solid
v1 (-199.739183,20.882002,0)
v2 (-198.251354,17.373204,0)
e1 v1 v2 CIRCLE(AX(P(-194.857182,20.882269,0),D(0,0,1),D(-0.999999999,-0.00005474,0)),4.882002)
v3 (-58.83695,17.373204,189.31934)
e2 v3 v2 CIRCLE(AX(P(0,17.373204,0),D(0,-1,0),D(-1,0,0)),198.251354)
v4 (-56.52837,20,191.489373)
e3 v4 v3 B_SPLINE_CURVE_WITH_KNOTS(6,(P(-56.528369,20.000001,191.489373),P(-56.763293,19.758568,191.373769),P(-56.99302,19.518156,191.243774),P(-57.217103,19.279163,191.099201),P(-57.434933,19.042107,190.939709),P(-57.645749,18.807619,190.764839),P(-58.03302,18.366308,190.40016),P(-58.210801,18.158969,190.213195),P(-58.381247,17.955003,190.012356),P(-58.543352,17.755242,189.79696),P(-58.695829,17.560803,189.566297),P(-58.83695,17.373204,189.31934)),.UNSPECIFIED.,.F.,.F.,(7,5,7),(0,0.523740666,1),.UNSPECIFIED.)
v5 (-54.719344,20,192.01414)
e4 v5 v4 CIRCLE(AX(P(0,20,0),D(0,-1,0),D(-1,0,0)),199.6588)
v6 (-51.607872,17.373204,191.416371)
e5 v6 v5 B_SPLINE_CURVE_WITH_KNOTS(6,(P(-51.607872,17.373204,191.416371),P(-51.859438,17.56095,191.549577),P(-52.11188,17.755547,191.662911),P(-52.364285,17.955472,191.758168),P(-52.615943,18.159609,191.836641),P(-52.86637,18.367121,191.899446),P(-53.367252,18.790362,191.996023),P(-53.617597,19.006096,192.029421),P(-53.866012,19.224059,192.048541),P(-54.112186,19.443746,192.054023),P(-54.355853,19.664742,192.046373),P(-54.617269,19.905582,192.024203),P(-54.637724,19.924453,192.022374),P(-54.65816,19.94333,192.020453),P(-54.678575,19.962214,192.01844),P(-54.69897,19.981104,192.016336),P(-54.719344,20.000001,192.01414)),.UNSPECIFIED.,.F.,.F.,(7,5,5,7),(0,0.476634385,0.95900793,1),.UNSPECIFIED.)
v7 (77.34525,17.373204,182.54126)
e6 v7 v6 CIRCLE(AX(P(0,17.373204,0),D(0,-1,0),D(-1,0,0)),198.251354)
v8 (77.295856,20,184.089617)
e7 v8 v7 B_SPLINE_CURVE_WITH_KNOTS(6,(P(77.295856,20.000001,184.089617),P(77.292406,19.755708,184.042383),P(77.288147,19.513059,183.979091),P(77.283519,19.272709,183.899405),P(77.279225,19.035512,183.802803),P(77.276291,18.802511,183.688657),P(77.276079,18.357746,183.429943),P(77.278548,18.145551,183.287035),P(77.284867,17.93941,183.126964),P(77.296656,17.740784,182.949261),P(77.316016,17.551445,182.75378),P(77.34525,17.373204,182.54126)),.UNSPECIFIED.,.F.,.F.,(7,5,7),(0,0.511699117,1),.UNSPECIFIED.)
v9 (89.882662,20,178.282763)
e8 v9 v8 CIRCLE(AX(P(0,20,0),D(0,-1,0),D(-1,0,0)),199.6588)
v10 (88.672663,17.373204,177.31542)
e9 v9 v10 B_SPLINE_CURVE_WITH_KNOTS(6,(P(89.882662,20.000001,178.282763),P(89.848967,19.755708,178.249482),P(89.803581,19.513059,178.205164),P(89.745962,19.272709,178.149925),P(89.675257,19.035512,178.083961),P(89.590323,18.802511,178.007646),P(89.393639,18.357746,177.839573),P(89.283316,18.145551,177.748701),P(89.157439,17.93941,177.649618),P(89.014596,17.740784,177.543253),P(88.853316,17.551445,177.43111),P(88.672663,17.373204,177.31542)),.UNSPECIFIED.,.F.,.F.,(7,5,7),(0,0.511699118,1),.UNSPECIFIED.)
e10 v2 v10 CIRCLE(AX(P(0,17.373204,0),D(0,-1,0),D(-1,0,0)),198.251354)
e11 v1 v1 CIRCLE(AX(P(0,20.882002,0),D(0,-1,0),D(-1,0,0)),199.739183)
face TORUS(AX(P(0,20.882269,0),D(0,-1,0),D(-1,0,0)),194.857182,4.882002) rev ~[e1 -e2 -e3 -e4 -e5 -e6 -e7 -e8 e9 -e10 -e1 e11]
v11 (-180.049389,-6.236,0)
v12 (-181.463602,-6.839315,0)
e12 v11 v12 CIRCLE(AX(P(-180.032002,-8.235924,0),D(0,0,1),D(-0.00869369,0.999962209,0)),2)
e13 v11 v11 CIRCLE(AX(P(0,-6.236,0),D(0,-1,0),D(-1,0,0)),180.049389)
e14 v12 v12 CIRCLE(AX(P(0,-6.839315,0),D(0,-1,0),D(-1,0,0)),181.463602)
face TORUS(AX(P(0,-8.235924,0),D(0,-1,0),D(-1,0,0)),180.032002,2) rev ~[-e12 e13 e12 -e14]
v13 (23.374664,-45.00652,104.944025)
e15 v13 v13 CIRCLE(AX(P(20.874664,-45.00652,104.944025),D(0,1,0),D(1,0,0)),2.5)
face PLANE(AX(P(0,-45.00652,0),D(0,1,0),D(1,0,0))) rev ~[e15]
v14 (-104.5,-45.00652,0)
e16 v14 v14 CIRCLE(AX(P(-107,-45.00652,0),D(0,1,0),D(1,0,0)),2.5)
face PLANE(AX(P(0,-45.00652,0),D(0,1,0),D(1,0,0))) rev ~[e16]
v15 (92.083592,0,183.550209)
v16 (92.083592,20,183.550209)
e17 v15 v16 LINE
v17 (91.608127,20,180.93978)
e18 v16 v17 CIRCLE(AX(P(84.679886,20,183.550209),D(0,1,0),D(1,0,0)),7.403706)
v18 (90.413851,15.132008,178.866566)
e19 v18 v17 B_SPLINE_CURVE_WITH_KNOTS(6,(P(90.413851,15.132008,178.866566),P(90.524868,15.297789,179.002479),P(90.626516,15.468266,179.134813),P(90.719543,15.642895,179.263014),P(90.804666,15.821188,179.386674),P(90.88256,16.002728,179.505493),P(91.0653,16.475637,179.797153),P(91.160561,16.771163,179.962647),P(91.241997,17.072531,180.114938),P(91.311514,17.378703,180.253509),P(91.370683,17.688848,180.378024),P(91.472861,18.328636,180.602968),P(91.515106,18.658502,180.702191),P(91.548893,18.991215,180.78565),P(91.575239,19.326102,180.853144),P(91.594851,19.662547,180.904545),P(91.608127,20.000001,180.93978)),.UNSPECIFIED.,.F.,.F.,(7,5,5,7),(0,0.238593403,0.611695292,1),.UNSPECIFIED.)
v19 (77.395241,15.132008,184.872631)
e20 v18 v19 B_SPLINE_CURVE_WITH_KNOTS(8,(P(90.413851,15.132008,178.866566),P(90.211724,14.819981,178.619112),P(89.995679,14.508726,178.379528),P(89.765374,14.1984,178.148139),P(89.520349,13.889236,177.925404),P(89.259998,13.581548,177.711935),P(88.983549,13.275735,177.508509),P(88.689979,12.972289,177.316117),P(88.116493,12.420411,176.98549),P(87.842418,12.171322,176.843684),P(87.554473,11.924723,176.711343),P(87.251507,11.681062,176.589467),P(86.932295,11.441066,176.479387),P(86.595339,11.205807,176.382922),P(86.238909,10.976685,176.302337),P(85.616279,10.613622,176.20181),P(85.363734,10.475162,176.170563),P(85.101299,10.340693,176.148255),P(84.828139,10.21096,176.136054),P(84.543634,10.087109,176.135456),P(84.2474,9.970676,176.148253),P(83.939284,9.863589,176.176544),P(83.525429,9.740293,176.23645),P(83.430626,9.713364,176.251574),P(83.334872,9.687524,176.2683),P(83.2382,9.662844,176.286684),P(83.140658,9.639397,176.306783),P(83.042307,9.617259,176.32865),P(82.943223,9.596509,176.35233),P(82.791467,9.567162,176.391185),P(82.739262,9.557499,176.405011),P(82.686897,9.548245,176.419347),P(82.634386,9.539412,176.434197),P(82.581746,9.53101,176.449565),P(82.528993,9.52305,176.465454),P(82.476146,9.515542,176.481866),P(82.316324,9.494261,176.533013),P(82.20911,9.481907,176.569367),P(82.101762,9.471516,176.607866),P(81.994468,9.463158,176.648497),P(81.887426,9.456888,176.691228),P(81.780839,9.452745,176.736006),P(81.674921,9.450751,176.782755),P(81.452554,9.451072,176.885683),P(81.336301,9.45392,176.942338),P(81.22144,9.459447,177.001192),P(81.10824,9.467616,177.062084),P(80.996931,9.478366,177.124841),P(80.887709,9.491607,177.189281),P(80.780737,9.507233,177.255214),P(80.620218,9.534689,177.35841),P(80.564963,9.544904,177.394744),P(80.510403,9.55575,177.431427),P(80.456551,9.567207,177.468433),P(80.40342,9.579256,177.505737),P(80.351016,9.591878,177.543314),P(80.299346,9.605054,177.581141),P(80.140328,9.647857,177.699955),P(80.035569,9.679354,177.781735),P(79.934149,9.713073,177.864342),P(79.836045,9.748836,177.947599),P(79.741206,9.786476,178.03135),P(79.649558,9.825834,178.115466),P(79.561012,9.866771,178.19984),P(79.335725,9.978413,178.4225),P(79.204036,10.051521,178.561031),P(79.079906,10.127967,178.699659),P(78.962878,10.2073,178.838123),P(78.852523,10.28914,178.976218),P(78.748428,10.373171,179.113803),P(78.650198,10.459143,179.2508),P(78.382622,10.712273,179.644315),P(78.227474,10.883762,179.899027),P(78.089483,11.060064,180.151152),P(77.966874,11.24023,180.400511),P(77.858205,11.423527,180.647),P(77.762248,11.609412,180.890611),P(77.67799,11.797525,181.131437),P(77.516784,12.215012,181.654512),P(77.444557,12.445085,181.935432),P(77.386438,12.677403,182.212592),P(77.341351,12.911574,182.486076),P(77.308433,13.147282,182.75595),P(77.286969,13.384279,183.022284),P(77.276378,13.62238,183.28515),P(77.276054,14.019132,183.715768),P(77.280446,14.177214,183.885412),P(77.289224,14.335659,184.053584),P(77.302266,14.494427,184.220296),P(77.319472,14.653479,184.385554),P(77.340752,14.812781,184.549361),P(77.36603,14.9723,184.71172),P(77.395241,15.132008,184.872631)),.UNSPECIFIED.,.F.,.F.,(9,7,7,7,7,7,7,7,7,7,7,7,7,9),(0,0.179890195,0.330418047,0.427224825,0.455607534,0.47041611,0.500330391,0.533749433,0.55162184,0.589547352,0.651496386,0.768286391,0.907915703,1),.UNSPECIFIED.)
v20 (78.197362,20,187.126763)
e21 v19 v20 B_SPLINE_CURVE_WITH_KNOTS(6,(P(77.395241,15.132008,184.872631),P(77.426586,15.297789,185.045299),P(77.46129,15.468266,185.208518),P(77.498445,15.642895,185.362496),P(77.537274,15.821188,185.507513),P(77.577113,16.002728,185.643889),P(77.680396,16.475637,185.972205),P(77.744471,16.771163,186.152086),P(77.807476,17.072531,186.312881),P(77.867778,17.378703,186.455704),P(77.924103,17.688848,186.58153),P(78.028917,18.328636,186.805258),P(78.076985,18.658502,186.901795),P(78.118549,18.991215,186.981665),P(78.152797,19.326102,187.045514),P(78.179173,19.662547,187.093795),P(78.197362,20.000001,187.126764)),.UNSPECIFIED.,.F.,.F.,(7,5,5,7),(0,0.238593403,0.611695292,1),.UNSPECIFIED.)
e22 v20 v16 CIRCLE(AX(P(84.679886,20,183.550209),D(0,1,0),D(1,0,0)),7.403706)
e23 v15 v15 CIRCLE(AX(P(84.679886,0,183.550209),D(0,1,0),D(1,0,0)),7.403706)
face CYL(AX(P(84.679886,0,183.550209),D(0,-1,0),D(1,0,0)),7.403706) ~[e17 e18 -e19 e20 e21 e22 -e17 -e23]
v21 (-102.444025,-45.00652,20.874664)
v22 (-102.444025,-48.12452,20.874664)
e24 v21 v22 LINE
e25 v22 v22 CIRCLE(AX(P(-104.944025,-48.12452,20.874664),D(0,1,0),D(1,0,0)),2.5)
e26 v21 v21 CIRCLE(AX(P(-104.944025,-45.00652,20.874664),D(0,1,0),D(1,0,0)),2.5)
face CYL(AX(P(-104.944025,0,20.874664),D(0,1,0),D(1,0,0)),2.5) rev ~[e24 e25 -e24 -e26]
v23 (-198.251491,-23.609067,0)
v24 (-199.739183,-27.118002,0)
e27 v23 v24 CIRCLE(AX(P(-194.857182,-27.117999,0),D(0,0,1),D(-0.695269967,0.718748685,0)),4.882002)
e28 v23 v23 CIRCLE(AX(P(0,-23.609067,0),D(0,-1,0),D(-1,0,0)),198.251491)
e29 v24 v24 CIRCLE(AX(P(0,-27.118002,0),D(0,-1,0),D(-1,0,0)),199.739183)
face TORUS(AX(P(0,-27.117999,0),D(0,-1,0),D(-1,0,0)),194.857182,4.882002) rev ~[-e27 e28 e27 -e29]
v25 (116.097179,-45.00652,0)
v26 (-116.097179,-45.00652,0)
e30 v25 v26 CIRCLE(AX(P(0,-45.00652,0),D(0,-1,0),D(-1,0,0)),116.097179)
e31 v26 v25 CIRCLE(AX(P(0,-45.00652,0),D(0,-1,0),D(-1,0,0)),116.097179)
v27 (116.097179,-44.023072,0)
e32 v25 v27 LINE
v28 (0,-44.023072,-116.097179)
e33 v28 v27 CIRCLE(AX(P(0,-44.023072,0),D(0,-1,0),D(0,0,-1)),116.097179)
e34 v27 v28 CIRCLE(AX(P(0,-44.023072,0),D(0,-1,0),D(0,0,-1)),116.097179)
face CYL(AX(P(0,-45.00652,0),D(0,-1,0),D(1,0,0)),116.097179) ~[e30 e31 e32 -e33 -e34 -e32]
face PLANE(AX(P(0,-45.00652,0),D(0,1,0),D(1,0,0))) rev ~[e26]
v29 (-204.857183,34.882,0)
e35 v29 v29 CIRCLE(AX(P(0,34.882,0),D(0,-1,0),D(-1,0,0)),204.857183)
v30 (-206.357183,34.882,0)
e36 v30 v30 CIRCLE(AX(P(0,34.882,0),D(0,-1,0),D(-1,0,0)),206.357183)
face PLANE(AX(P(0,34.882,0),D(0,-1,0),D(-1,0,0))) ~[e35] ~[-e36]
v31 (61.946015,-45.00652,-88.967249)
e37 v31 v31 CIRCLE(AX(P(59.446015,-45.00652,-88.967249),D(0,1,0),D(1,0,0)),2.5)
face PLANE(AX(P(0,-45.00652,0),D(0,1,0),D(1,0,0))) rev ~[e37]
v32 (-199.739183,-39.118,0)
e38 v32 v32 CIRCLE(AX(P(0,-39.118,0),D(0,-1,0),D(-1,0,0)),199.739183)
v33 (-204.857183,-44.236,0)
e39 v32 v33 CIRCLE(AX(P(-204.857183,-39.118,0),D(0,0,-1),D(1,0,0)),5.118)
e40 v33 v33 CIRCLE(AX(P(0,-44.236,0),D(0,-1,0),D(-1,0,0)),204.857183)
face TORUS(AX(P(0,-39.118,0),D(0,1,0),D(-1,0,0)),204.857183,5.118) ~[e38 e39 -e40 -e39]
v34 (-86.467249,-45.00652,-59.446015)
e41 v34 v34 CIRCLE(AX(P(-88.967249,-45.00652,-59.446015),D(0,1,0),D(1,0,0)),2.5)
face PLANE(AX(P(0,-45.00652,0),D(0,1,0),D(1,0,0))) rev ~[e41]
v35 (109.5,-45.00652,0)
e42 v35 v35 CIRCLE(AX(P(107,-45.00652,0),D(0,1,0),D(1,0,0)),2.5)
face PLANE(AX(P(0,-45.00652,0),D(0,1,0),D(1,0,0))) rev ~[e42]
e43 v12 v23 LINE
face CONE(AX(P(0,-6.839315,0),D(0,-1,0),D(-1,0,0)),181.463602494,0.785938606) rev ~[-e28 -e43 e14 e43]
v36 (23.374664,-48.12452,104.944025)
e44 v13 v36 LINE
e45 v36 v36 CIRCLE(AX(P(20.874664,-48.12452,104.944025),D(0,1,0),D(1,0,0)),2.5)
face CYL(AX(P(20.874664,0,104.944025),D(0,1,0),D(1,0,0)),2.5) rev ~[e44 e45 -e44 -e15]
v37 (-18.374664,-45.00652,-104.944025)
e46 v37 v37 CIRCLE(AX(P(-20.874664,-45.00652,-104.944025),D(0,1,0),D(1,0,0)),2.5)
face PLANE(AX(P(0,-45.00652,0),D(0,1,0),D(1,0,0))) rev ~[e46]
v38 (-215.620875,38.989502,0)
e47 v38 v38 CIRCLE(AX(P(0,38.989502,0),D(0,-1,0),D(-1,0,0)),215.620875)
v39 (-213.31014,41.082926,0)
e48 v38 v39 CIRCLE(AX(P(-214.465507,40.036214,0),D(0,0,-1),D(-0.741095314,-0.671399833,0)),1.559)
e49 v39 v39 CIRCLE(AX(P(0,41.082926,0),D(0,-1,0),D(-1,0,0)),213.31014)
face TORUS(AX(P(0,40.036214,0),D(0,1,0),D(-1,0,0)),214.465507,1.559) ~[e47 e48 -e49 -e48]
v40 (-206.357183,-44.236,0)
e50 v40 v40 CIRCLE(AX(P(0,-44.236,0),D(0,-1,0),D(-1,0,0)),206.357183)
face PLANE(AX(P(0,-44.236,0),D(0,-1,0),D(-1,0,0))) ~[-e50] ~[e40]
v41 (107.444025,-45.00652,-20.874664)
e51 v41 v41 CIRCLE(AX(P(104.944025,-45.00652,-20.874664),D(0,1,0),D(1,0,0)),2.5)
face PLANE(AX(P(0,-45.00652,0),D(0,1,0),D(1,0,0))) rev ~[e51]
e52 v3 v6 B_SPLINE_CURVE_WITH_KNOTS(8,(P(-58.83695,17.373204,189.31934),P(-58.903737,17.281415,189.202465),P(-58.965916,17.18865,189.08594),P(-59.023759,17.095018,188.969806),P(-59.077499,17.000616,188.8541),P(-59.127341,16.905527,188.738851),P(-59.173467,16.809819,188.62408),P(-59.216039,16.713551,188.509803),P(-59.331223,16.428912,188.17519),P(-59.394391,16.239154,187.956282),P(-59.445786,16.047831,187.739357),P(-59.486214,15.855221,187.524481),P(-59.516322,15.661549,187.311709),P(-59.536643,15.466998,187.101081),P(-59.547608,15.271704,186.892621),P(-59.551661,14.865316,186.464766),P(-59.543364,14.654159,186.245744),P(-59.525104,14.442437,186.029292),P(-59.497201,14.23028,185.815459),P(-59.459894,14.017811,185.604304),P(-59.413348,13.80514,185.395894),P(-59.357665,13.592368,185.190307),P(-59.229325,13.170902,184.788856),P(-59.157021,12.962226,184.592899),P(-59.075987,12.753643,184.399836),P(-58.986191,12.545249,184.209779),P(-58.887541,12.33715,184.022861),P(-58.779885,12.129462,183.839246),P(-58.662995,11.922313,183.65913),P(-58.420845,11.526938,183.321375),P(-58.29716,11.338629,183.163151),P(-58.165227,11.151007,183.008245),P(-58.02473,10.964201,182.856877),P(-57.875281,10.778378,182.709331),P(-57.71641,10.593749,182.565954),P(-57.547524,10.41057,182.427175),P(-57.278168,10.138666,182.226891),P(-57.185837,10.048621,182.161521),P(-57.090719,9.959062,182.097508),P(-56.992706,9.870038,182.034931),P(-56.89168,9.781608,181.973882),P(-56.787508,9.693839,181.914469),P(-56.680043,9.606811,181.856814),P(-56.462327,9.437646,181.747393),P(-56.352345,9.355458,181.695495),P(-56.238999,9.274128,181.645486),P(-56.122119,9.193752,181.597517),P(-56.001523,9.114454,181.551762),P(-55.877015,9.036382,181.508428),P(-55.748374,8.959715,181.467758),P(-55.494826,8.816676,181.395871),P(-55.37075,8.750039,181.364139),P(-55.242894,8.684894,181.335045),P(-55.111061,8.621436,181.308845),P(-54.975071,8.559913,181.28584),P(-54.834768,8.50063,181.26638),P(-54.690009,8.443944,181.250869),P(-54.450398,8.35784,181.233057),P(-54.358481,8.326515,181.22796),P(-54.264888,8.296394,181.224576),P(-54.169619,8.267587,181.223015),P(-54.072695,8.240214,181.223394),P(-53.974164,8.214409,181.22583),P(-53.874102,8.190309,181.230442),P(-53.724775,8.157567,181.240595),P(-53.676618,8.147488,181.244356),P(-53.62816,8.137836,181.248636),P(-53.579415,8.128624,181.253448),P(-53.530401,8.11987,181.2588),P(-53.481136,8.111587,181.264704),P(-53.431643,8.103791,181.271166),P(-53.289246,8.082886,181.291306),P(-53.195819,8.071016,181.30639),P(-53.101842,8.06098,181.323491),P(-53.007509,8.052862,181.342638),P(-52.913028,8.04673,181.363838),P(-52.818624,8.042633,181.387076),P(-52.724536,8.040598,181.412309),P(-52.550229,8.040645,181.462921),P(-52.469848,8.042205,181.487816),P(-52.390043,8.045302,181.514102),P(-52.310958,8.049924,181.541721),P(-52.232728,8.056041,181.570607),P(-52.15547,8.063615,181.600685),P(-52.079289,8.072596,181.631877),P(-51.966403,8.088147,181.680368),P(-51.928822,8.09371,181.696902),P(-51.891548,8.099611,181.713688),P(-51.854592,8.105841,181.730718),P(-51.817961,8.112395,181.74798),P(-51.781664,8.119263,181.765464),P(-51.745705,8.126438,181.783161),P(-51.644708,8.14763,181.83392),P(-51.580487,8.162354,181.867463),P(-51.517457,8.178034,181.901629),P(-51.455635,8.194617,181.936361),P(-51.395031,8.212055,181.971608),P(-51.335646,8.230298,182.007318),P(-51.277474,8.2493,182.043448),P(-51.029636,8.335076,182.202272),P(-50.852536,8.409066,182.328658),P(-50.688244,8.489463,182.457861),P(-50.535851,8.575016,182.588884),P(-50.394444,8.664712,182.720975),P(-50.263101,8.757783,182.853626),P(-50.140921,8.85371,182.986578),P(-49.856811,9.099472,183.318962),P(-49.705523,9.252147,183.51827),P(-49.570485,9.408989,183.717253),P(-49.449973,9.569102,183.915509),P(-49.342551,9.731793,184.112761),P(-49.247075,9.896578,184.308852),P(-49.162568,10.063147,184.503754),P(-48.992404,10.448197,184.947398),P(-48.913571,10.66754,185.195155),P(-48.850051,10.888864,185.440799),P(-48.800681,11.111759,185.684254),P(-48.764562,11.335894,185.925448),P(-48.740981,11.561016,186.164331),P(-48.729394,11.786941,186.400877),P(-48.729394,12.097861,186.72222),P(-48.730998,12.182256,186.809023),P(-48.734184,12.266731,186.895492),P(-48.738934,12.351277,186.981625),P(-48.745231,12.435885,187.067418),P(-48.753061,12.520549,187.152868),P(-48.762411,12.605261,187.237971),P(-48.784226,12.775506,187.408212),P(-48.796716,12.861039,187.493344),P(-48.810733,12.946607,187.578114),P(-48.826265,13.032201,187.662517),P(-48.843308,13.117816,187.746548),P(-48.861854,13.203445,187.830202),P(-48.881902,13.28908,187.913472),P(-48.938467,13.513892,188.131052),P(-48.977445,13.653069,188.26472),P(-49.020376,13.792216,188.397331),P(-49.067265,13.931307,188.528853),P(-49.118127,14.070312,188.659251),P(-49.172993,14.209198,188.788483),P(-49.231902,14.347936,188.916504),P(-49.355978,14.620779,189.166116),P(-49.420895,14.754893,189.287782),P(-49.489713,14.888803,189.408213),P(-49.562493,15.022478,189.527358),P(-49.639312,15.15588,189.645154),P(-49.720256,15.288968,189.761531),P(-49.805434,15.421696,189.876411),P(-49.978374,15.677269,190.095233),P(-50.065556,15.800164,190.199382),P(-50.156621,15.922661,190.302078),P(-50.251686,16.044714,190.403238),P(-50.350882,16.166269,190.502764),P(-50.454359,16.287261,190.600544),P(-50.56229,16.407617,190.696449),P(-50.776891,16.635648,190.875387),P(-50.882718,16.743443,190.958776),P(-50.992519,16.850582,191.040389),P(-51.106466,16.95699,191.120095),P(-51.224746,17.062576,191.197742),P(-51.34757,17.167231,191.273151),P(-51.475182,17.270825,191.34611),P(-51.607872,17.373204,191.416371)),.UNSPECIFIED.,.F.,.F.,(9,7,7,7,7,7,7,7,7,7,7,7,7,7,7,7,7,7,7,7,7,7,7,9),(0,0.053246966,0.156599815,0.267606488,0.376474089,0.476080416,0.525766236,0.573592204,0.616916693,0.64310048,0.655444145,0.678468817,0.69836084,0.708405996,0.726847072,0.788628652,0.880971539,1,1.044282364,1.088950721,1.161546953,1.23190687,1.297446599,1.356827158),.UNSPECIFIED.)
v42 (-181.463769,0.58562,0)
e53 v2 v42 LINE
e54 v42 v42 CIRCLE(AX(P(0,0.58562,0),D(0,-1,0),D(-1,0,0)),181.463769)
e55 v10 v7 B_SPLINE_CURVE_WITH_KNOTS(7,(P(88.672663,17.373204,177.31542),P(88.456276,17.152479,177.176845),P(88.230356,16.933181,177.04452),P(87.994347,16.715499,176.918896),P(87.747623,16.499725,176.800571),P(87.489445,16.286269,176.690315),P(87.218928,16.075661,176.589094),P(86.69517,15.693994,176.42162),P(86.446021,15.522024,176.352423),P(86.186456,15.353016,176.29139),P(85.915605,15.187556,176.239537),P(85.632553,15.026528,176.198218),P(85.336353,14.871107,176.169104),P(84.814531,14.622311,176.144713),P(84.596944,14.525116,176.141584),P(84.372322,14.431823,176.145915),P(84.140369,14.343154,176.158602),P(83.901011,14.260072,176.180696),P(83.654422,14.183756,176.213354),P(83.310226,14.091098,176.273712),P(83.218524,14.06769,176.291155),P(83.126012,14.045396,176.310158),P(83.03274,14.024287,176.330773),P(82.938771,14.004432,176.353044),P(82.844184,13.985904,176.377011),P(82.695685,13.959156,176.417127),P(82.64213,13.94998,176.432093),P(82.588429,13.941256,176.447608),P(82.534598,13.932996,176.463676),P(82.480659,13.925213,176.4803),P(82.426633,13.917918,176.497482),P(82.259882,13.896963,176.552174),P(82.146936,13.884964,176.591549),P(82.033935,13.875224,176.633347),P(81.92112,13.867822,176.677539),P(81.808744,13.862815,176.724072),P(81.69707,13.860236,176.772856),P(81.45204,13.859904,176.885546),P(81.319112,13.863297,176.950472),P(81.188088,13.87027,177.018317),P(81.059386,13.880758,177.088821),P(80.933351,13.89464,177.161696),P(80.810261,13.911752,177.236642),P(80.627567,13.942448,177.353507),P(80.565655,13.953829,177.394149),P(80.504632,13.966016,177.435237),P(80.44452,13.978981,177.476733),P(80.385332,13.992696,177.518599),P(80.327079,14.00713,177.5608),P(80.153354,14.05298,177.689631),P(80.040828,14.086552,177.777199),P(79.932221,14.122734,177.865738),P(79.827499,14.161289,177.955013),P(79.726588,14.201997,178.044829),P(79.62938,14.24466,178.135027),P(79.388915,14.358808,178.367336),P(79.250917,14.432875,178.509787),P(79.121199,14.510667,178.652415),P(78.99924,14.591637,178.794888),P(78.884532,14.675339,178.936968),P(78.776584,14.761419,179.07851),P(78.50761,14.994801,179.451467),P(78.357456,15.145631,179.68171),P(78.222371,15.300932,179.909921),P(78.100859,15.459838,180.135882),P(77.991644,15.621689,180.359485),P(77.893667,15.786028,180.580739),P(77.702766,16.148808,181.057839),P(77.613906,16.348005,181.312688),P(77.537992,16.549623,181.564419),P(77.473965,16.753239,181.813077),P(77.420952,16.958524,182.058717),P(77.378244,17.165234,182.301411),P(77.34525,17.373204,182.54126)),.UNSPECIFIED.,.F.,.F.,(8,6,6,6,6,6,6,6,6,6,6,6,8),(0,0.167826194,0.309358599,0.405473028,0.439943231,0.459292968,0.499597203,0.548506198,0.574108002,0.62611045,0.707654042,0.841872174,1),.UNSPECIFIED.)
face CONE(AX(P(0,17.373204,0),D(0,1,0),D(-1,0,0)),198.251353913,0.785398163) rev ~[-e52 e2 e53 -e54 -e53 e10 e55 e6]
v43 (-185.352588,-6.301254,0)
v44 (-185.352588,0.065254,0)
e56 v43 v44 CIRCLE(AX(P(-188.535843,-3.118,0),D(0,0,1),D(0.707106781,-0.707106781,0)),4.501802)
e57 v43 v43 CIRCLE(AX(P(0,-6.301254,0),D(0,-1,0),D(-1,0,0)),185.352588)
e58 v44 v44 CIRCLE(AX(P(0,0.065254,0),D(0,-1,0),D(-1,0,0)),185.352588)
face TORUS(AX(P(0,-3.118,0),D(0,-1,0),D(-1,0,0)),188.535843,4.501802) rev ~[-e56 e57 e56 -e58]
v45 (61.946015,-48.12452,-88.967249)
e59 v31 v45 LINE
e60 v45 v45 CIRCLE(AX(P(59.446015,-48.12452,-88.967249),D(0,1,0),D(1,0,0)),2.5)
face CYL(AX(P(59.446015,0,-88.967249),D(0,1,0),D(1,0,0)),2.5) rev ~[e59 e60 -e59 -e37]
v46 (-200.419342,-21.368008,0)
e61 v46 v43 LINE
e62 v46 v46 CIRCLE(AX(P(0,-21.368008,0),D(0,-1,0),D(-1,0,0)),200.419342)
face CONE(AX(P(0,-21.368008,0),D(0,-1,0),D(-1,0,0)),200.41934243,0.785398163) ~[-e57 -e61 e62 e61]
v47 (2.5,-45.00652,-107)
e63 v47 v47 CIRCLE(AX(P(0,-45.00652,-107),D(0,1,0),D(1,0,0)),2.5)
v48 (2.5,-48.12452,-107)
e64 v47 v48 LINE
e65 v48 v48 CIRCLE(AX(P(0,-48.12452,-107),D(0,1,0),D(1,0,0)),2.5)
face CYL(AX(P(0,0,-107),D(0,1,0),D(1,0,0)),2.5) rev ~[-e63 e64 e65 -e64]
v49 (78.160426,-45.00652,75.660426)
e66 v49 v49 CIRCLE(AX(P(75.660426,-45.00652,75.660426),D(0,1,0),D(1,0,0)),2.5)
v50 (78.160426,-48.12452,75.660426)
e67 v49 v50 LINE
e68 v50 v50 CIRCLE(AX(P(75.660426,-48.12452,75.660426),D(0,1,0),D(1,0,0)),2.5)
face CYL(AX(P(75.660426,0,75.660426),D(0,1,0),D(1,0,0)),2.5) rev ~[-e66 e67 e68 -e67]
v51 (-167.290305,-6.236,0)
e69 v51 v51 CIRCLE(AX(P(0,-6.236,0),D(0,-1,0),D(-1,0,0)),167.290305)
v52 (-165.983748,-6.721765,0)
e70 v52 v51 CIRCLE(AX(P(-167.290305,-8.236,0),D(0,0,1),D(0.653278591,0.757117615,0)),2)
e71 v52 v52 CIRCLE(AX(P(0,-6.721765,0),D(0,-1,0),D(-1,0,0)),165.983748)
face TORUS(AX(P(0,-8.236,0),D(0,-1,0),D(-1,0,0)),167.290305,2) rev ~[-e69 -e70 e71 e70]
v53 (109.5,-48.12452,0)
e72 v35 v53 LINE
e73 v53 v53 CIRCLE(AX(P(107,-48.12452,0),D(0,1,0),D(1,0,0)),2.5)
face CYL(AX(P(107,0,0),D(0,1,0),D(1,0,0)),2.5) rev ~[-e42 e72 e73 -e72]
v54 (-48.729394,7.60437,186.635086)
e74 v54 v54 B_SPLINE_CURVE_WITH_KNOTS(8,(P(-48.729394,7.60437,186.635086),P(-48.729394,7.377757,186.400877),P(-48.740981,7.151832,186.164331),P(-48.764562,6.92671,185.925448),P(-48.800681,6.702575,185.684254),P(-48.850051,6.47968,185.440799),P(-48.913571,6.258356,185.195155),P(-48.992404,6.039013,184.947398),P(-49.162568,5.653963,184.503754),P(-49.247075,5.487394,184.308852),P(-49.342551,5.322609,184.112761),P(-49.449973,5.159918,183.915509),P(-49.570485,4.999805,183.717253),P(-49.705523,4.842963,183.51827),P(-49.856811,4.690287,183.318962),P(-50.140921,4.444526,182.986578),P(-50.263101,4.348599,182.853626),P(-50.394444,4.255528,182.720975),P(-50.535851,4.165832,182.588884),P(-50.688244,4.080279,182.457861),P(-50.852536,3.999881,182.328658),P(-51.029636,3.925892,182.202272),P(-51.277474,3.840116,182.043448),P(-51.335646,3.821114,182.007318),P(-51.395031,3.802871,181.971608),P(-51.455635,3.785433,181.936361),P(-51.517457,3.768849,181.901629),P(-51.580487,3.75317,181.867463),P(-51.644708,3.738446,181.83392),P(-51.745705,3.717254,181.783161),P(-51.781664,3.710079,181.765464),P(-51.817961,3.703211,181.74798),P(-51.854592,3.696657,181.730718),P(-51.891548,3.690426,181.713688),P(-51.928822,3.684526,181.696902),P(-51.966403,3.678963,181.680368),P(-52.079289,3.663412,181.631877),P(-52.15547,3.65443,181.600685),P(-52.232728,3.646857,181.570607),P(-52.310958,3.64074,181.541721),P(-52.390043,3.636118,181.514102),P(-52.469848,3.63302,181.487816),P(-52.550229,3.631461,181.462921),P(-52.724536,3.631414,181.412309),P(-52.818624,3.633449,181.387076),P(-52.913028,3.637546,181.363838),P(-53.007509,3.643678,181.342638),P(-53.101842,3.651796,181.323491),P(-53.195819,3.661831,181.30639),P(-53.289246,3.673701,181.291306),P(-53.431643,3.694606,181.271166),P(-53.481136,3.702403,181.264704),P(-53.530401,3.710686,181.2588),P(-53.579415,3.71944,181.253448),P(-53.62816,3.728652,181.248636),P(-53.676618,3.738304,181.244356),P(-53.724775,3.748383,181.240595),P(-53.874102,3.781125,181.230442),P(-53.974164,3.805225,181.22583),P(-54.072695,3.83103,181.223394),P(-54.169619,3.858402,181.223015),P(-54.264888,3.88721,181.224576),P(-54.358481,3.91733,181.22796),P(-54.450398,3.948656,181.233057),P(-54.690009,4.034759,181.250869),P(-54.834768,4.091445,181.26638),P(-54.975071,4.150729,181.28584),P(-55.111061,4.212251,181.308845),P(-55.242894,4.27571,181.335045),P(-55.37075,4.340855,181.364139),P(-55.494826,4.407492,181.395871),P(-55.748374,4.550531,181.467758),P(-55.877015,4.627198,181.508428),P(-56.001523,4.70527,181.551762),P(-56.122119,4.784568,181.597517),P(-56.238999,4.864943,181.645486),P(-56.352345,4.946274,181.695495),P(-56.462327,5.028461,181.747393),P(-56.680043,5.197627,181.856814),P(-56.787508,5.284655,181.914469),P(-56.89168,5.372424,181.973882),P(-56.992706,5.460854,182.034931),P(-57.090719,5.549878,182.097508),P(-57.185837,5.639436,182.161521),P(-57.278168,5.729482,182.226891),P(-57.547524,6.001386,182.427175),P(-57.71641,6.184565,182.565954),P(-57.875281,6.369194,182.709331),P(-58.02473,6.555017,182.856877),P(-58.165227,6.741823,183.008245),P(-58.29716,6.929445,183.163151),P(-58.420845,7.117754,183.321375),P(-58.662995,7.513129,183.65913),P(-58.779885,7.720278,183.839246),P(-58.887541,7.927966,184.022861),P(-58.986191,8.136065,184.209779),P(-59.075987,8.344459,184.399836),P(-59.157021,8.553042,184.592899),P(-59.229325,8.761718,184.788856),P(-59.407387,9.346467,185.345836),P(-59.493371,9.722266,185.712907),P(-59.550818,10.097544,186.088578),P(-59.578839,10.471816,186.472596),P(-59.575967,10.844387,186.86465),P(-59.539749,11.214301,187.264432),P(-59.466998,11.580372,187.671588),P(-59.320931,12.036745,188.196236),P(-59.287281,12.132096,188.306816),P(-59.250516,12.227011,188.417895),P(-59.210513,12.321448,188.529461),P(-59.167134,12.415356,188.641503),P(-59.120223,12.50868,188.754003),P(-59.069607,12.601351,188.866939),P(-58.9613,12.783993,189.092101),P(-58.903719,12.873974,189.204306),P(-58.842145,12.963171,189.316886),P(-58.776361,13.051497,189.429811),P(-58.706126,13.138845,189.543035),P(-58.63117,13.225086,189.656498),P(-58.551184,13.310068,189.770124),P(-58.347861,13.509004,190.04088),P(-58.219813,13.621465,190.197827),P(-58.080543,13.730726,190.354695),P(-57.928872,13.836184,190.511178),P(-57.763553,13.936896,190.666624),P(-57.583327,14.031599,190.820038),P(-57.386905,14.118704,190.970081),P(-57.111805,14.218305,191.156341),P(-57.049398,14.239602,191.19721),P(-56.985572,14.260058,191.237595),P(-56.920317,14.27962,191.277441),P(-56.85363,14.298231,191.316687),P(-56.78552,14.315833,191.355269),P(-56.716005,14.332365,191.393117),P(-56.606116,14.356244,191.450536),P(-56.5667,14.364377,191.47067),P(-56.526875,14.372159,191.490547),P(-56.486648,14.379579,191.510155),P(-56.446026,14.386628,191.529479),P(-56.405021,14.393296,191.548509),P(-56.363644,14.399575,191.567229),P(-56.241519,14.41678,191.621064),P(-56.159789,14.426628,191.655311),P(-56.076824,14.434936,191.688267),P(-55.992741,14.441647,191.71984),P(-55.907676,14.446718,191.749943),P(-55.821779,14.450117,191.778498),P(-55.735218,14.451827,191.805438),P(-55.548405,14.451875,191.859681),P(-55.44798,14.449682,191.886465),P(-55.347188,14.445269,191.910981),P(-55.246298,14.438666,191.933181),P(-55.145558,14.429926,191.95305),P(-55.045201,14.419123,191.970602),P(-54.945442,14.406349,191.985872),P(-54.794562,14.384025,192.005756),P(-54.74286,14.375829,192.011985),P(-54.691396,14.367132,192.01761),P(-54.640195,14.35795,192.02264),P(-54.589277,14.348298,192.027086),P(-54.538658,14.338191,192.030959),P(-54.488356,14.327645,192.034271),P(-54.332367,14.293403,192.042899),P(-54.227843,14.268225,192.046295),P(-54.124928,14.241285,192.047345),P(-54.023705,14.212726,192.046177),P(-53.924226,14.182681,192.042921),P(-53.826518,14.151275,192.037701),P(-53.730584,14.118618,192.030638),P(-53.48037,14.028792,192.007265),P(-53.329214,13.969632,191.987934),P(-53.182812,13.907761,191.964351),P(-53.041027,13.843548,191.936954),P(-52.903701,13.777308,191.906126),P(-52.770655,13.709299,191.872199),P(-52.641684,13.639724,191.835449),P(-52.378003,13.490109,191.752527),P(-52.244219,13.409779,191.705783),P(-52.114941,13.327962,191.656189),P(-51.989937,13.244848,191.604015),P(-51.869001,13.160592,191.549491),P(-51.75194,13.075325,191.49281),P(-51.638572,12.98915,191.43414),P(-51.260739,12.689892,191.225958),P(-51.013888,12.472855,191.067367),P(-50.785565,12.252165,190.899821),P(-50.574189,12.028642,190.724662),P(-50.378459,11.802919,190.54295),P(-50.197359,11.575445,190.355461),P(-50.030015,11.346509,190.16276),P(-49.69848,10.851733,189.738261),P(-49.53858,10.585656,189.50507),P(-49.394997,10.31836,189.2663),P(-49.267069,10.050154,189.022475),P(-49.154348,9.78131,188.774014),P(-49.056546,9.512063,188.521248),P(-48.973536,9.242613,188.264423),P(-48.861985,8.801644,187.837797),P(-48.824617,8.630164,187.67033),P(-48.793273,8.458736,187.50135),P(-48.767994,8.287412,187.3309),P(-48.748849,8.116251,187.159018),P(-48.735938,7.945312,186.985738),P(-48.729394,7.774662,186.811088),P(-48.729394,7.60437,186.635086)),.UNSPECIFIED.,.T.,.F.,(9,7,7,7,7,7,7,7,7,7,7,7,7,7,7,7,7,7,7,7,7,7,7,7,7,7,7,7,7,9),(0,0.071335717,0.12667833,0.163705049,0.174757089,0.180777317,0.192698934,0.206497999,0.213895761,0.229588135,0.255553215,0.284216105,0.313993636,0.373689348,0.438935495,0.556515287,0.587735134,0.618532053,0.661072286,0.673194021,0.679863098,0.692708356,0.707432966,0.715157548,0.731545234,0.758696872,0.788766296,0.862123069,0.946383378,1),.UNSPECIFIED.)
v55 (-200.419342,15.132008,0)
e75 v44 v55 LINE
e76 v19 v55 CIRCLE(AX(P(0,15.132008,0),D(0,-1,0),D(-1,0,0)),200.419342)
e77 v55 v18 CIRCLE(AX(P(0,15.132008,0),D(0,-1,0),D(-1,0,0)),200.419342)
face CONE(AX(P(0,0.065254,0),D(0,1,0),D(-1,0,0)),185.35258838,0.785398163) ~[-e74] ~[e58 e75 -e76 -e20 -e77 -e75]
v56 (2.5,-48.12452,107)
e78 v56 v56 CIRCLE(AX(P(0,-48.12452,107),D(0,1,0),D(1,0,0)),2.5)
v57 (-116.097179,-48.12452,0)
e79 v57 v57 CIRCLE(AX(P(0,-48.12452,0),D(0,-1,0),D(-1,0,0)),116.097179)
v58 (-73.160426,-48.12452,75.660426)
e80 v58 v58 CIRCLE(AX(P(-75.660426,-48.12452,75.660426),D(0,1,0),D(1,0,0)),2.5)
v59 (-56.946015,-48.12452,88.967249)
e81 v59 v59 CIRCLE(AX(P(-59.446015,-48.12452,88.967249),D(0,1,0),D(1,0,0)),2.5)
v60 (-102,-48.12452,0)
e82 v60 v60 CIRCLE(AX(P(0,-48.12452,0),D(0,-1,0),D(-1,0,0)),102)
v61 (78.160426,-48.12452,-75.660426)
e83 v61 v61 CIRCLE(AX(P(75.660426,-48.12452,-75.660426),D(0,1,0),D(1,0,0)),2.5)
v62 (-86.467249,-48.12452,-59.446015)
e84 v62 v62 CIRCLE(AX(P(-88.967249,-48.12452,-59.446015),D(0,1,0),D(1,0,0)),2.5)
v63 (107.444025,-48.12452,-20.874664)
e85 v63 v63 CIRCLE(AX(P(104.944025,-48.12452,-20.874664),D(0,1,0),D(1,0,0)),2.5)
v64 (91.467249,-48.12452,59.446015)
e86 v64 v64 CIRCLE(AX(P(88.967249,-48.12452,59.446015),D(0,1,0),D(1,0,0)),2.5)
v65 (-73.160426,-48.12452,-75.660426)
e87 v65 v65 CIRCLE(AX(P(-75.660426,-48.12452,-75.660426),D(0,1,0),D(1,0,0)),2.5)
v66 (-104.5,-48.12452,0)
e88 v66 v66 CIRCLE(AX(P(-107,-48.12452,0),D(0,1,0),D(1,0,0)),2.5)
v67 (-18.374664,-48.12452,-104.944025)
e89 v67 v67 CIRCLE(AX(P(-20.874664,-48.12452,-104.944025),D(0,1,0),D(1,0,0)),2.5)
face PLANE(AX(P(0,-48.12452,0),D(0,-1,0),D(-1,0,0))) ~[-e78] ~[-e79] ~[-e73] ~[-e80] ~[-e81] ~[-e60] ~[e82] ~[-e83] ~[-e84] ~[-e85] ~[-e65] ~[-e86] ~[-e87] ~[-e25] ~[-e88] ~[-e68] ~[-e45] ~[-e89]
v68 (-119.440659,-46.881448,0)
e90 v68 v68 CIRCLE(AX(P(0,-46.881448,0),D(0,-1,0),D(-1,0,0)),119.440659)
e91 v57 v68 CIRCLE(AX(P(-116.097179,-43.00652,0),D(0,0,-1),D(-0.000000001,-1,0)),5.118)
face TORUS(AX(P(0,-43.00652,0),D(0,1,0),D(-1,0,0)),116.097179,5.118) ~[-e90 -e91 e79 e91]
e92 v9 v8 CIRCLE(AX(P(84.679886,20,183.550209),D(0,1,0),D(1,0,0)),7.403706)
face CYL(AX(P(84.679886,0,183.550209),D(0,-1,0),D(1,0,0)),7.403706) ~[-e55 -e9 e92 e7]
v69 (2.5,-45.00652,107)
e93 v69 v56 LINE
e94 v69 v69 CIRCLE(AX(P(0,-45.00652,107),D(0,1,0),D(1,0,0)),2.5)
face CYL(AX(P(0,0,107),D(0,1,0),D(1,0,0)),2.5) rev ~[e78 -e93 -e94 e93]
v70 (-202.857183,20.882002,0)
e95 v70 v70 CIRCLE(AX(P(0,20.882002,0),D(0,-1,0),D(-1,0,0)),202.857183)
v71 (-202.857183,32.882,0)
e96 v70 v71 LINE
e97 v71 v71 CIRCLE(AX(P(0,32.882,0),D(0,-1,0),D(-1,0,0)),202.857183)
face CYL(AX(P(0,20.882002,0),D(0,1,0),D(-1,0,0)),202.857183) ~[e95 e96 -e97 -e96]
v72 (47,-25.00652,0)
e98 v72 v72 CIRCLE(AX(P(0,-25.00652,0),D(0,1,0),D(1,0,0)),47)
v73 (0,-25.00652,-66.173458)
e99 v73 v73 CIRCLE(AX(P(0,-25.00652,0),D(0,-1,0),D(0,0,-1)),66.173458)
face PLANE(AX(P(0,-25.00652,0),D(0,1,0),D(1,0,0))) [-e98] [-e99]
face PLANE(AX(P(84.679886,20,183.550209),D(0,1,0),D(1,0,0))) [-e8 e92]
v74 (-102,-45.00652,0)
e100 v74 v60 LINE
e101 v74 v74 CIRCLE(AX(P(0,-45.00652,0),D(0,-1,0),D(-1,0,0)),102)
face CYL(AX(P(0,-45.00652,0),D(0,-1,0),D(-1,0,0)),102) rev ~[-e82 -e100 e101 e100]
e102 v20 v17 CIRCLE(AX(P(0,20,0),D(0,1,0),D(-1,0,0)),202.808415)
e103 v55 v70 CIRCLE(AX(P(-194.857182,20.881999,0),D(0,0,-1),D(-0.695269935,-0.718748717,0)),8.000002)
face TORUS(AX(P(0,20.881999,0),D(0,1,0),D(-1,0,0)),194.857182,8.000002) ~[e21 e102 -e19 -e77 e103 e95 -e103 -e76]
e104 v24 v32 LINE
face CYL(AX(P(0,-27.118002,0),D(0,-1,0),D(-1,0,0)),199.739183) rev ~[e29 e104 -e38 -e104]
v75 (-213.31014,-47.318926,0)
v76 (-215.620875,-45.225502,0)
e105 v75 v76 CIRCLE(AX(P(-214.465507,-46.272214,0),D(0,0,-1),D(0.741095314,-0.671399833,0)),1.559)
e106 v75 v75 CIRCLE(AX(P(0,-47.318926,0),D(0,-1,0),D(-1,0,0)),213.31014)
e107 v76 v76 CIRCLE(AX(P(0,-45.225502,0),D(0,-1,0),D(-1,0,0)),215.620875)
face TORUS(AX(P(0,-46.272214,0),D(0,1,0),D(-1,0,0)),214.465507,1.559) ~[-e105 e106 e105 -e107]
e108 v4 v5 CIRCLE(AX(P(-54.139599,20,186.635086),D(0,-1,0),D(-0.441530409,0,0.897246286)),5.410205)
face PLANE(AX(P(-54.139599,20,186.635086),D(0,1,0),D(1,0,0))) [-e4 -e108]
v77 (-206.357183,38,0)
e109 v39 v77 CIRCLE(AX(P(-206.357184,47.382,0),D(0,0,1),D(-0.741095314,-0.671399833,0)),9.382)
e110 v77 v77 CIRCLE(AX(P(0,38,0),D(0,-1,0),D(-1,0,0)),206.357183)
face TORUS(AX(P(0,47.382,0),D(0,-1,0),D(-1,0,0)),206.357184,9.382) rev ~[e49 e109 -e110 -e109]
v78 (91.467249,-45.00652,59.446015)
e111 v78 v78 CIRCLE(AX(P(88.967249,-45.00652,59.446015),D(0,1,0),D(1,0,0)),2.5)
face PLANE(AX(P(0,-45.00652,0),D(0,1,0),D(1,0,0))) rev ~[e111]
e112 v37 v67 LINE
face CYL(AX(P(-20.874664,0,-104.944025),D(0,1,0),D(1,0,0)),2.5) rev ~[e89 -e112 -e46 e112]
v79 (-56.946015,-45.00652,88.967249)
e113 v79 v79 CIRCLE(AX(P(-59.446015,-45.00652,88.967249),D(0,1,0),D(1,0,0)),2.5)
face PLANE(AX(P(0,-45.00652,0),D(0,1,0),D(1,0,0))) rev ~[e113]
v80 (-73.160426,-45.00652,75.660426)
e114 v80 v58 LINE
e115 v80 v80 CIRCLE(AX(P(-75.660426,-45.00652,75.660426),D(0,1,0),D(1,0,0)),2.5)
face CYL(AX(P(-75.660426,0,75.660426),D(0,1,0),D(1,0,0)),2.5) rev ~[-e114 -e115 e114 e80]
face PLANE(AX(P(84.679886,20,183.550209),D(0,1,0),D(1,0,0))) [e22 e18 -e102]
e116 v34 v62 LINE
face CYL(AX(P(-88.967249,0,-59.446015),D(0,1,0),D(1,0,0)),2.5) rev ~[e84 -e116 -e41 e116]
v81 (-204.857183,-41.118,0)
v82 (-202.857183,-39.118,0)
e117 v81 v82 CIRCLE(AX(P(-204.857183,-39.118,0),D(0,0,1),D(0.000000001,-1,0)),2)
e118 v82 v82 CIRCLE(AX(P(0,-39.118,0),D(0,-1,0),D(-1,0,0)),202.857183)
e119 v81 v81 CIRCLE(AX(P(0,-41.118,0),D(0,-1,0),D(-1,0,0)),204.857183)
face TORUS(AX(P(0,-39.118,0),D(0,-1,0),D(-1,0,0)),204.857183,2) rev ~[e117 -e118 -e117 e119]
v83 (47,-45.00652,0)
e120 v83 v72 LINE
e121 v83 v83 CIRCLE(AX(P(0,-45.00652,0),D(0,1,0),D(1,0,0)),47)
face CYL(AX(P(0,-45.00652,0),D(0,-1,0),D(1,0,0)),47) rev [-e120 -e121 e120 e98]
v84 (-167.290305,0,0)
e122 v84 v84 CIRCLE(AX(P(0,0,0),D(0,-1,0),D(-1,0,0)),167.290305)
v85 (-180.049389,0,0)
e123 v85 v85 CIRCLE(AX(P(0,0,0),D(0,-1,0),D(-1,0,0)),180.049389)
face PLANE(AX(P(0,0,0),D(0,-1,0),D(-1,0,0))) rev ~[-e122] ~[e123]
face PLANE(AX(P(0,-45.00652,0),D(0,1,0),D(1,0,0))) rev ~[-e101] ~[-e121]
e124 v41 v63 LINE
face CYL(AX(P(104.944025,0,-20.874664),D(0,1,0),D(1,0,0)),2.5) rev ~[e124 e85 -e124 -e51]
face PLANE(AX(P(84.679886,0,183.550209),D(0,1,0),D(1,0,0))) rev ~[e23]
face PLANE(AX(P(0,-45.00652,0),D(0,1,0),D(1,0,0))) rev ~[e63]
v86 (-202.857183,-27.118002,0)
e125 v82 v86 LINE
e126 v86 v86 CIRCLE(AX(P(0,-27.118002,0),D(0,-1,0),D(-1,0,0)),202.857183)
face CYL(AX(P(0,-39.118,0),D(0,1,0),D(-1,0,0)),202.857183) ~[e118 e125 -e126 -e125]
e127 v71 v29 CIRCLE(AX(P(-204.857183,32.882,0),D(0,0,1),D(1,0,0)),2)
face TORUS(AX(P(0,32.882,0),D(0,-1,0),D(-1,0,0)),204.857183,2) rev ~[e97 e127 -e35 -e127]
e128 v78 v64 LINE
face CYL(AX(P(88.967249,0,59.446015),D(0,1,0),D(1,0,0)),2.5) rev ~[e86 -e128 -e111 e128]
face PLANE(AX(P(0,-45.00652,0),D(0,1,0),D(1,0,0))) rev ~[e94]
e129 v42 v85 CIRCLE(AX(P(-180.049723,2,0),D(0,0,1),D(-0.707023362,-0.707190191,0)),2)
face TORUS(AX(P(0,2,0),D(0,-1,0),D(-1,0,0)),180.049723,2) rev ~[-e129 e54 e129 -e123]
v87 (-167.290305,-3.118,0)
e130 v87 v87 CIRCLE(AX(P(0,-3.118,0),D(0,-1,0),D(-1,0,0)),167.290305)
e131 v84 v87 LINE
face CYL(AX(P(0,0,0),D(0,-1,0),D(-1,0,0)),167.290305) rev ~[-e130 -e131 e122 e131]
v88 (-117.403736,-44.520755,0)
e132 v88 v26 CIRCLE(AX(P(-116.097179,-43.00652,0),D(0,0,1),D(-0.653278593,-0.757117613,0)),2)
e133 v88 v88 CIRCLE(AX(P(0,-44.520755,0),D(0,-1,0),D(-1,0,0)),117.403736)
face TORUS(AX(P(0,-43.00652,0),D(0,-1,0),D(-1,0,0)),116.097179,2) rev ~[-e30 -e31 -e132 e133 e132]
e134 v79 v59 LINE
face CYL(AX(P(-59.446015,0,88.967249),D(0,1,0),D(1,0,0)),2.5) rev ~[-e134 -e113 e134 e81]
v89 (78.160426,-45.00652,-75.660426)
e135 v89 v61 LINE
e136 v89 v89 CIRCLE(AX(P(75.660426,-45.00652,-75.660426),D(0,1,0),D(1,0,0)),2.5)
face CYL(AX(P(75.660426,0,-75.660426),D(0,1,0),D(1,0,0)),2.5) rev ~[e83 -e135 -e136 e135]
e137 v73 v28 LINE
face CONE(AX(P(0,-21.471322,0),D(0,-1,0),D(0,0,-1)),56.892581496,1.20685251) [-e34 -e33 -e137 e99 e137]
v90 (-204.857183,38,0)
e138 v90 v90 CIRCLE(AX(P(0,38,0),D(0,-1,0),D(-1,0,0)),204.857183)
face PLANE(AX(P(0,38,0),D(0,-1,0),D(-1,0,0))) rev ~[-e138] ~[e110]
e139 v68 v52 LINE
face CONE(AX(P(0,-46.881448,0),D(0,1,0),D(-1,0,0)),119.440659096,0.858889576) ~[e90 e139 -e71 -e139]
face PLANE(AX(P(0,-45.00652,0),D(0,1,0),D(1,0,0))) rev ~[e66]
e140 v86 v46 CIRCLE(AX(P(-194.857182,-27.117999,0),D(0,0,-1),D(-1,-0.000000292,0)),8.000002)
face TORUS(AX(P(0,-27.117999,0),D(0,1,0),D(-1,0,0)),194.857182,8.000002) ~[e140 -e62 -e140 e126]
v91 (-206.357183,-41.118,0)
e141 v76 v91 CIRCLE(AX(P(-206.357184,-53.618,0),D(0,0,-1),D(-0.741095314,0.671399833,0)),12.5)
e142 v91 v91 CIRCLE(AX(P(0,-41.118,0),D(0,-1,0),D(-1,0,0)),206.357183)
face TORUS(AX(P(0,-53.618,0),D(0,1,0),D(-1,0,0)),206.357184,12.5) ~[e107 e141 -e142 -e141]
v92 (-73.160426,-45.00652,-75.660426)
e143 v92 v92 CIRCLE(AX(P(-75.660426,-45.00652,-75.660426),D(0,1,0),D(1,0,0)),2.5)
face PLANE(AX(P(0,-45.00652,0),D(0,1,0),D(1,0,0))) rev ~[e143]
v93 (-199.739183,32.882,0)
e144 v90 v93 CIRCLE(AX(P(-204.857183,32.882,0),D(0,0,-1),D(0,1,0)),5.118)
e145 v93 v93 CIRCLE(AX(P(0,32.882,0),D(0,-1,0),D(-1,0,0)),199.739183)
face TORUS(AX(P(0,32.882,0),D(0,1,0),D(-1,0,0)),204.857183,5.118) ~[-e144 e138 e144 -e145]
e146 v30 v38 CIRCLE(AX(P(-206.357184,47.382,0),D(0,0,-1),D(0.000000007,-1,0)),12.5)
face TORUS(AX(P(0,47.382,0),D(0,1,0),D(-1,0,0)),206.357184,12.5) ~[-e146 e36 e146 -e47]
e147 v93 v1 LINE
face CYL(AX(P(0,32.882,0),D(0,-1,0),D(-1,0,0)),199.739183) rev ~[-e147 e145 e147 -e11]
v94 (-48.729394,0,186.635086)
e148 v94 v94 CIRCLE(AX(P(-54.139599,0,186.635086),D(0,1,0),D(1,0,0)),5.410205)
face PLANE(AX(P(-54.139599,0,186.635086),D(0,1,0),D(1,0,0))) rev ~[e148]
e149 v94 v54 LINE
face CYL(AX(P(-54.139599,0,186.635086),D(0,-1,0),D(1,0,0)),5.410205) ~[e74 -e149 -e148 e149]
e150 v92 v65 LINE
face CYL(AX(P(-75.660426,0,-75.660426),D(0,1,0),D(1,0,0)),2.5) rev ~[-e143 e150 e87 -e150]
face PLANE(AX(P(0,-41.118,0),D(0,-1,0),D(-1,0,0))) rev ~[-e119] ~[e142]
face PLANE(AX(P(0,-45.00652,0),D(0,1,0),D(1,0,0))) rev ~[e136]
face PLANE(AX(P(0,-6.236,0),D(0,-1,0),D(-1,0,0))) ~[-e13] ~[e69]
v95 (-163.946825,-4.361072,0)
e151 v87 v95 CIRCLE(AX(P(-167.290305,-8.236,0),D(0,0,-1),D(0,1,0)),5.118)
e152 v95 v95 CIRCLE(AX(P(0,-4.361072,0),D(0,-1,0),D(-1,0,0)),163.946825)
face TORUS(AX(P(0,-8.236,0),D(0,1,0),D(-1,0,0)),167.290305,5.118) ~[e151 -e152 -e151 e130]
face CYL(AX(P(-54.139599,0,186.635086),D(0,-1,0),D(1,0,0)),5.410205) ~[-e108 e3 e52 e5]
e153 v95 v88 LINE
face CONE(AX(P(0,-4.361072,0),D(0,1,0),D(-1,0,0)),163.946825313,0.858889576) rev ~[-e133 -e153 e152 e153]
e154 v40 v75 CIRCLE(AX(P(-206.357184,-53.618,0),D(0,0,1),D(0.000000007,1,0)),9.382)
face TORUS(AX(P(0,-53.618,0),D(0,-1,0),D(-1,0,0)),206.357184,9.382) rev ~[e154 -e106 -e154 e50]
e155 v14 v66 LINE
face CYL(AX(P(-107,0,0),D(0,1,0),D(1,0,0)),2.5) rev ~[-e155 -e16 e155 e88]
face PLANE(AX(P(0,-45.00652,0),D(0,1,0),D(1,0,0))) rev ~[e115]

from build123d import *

# Parameters (mm, degrees)
SKETCH4_R               = 2.5
CUT_EXTRUDE3_DEPTH      = 42.595214206
CUT_EXTRUDE3_DEPTH_BACK = 49.124520078
SKETCH5_R               = 116.097179263
SKETCH5_R_2             = 47
BOSS_EXTRUDE1_DEPTH     = 20
SKETCH7_R               = 5.410205394
SKETCH7_R_2             = 7.403705909
BOSS_EXTRUDE2_DEPTH     = 20


with BuildPart() as part:
    # Sketch3 → Revolve2 (revolve)
    with BuildSketch(Plane.XY):
        with BuildLine():
            Line((-102, -48.124520078), (-116.097179263, -48.124520078))
            ThreePointArc((-116.097179263, -48.124520078), (-117.880721071, -47.803696603), (-119.440659096, -46.881448026))
            Line((-119.440659096, -46.881448026), (-165.983747962, -6.721764772))
            ThreePointArc((-165.983747962, -6.721764772), (-166.593336874, -6.361370643), (-167.290305146, -6.236))
            Line((-167.290305146, -6.236), (-180.049388931, -6.236))
            ThreePointArc((-180.049388931, -6.236), (-180.816787473, -6.396329067), (-181.463602494, -6.839314687))
            Line((-181.463602494, -6.839314687), (-198.251490932, -23.609067138))
            ThreePointArc((-198.251490932, -23.609067138), (-199.351899333, -25.212361847), (-199.739183475, -27.118001784))
            Line((-199.739183475, -27.118001784), (-199.739183475, -39.117999668))
            ThreePointArc((-199.739183475, -39.117999668), (-201.238210969, -42.736972174), (-204.857183475, -44.235999668))
            Line((-204.857183475, -44.235999668), (-206.357183497, -44.235999668))
            ThreePointArc((-206.357183497, -44.235999668), (-210.160078428, -45.041291982), (-213.310139828, -47.318926446))
            ThreePointArc((-213.310139828, -47.318926446), (-215.512219762, -47.4275817), (-215.620875016, -45.225501766))
            ThreePointArc((-215.620875016, -45.225501766), (-211.423926876, -42.190921638), (-206.357183475, -41.117999668))
            Line((-206.357183475, -41.117999668), (-204.857183475, -41.117999668))
            ThreePointArc((-204.857183475, -41.117999668), (-203.442969913, -40.53221323), (-202.857183475, -39.117999668))
            Line((-202.857183475, -39.117999668), (-202.857183475, -27.118001784))
            ThreePointArc((-202.857183475, -27.118001784), (-202.22255126, -23.995282756), (-200.41934243, -21.368008487))
            Line((-200.41934243, -21.368008487), (-185.35258838, -6.301254436))
            ThreePointArc((-185.35258838, -6.301254436), (-184.03404122, -3.118), (-185.35258838, 0.065254437))
            Line((-185.35258838, 0.065254437), (-200.41934243, 15.132008487))
            ThreePointArc((-200.41934243, 15.132008487), (-202.22255126, 17.759282757), (-202.857183476, 20.882001784))
            Line((-202.857183476, 20.882001784), (-202.857183476, 32.881999668))
            ThreePointArc((-202.857183476, 32.881999668), (-203.442969914, 34.296213231), (-204.857183476, 34.881999668))
            Line((-204.857183476, 34.881999668), (-206.357183476, 34.881999668))
            ThreePointArc((-206.357183476, 34.881999668), (-211.423926877, 35.954921638), (-215.620875017, 38.989501766))
            ThreePointArc((-215.620875017, 38.989501766), (-215.512219763, 41.1915817), (-213.310139829, 41.082926446))
            ThreePointArc((-213.310139829, 41.082926446), (-210.16007843, 38.805291983), (-206.357183499, 37.999999668))
            Line((-206.357183499, 37.999999668), (-204.857183476, 37.999999668))
            ThreePointArc((-204.857183476, 37.999999668), (-201.23821097, 36.500972175), (-199.739183476, 32.881999668))
            Line((-199.739183476, 32.881999668), (-199.739183476, 20.882001784))
            ThreePointArc((-199.739183476, 20.882001784), (-199.351809516, 18.976419568), (-198.251353913, 17.373204164))
            Line((-198.251353913, 17.373204164), (-181.463769341, 0.585619592))
            ThreePointArc((-181.463769341, 0.585619592), (-180.814826345, 0.152131935), (-180.049388931, 0))
            Line((-180.049388931, 0), (-167.290305146, 0))
            Line((-167.290305146, 0), (-167.290305146, -3.118))
            ThreePointArc((-167.290305146, -3.118), (-165.506763338, -3.438823474), (-163.946825313, -4.361072052))
            Line((-163.946825313, -4.361072052), (-117.403736447, -44.520755305))
            ThreePointArc((-117.403736447, -44.520755305), (-116.794147535, -44.881149435), (-116.097179263, -45.006520077))
            Line((-116.097179263, -45.006520077), (-102, -45.006520077))
            Line((-102, -45.006520077), (-102, -48.124520078))
        make_face()
    revolve(axis=Axis((0, 240.888952165, 0), (0, -1, 0)))

    # Sketch4 → Cut-Extrude3 (cut, two sides)
    with BuildSketch(Plane(origin=(0, 0, 0), x_dir=(1, 0, 0), z_dir=(0, 1, 0))) as cut_extrude3_sk:
        with Locations((0, 107)):
            Circle(SKETCH4_R)
        with Locations((-3884.181572475, -9484.24383099)):
            Circle(SKETCH4_R)
        with Locations((-13412.746254639, -13519.746254639)):
            Circle(SKETCH4_R)
        with Locations((-23003.990085629, -9635.564682164)):
            Circle(SKETCH4_R)
        with Locations((-27039.492509279, -107)):
            Circle(SKETCH4_R)
        with Locations((-23155.310936803, 9484.24383099)):
            Circle(SKETCH4_R)
        with Locations((-13626.746254639, 13519.746254639)):
            Circle(SKETCH4_R)
        with Locations((-4035.502423649, 9635.564682164)):
            Circle(SKETCH4_R)
        with Locations((-20.874664456, 104.944025003)):
            Circle(SKETCH4_R)
        with Locations((-3900.395983129, -9470.93700806)):
            Circle(SKETCH4_R)
        with Locations((-13414.802229636, -13498.871590184)):
            Circle(SKETCH4_R)
        with Locations((-22990.6832627, -9619.35027151)):
            Circle(SKETCH4_R)
        with Locations((-27018.617844823, -104.944025003)):
            Circle(SKETCH4_R)
        with Locations((-23139.096526149, 9470.93700806)):
            Circle(SKETCH4_R)
        with Locations((-13624.690279642, 13498.871590184)):
            Circle(SKETCH4_R)
        with Locations((-4048.809246579, 9619.35027151)):
            Circle(SKETCH4_R)
        with Locations((75.660425587, 75.660425587)):
            Circle(SKETCH4_R)
        with Locations((59.446014933, 88.967248516)):
            Circle(SKETCH4_R)
        with Locations((107, 0)):
            Circle(SKETCH4_R)
        with Locations((104.944025003, 20.874664456)):
            Circle(SKETCH4_R)
        with Locations((75.660425587, -75.660425587)):
            Circle(SKETCH4_R)
        with Locations((88.967248516, -59.446014933)):
            Circle(SKETCH4_R)
        with Locations((0, -107)):
            Circle(SKETCH4_R)
        with Locations((20.874664456, -104.944025003)):
            Circle(SKETCH4_R)
        with Locations((-75.660425587, -75.660425587)):
            Circle(SKETCH4_R)
        with Locations((-59.446014933, -88.967248516)):
            Circle(SKETCH4_R)
        with Locations((-107, 0)):
            Circle(SKETCH4_R)
        with Locations((-104.944025003, -20.874664456)):
            Circle(SKETCH4_R)
        with Locations((-75.660425587, 75.660425587)):
            Circle(SKETCH4_R)
        with Locations((-88.967248516, 59.446014933)):
            Circle(SKETCH4_R)
    extrude(amount=CUT_EXTRUDE3_DEPTH, mode=Mode.SUBTRACT)
    extrude(cut_extrude3_sk.sketch, amount=-CUT_EXTRUDE3_DEPTH_BACK, mode=Mode.SUBTRACT)

    # Sketch5 → Boss-Extrude1 (add)
    with BuildSketch(Plane(origin=(0, -45.006520077, 0), x_dir=(1, 0, 0), z_dir=(0, 1, 0))):
        Circle(SKETCH5_R)
        Circle(SKETCH5_R_2, mode=Mode.SUBTRACT)
    extrude(amount=BOSS_EXTRUDE1_DEPTH)

    # Sketch7 → Boss-Extrude2 (add)
    with BuildSketch(Plane(origin=(0, 0, 0), x_dir=(1, 0, 0), z_dir=(0, 1, 0))):
        with Locations((-54.139599457, -186.635086447)):
            Circle(SKETCH7_R)
        with Locations((84.67988633, -183.550208985)):
            Circle(SKETCH7_R_2)
    extrude(amount=BOSS_EXTRUDE2_DEPTH)

    # Sketch8 → Cut-Revolve1 (revolve, cut)
    with BuildSketch(Plane(origin=(0, 0, 0), x_dir=(0, 0, -1), z_dir=(1, 0, 0))):
        Polygon((17.818466603, -21.471321618), (56.892581496, -21.471321618), (117.403736447, -44.520755305), (117.403736447, 14.096166333), (17.818466603, 14.096166333), align=None)
    revolve(axis=Axis((0, 240.888952165, 0), (0, -1, 0)), mode=Mode.SUBTRACT)


solid = part.part
